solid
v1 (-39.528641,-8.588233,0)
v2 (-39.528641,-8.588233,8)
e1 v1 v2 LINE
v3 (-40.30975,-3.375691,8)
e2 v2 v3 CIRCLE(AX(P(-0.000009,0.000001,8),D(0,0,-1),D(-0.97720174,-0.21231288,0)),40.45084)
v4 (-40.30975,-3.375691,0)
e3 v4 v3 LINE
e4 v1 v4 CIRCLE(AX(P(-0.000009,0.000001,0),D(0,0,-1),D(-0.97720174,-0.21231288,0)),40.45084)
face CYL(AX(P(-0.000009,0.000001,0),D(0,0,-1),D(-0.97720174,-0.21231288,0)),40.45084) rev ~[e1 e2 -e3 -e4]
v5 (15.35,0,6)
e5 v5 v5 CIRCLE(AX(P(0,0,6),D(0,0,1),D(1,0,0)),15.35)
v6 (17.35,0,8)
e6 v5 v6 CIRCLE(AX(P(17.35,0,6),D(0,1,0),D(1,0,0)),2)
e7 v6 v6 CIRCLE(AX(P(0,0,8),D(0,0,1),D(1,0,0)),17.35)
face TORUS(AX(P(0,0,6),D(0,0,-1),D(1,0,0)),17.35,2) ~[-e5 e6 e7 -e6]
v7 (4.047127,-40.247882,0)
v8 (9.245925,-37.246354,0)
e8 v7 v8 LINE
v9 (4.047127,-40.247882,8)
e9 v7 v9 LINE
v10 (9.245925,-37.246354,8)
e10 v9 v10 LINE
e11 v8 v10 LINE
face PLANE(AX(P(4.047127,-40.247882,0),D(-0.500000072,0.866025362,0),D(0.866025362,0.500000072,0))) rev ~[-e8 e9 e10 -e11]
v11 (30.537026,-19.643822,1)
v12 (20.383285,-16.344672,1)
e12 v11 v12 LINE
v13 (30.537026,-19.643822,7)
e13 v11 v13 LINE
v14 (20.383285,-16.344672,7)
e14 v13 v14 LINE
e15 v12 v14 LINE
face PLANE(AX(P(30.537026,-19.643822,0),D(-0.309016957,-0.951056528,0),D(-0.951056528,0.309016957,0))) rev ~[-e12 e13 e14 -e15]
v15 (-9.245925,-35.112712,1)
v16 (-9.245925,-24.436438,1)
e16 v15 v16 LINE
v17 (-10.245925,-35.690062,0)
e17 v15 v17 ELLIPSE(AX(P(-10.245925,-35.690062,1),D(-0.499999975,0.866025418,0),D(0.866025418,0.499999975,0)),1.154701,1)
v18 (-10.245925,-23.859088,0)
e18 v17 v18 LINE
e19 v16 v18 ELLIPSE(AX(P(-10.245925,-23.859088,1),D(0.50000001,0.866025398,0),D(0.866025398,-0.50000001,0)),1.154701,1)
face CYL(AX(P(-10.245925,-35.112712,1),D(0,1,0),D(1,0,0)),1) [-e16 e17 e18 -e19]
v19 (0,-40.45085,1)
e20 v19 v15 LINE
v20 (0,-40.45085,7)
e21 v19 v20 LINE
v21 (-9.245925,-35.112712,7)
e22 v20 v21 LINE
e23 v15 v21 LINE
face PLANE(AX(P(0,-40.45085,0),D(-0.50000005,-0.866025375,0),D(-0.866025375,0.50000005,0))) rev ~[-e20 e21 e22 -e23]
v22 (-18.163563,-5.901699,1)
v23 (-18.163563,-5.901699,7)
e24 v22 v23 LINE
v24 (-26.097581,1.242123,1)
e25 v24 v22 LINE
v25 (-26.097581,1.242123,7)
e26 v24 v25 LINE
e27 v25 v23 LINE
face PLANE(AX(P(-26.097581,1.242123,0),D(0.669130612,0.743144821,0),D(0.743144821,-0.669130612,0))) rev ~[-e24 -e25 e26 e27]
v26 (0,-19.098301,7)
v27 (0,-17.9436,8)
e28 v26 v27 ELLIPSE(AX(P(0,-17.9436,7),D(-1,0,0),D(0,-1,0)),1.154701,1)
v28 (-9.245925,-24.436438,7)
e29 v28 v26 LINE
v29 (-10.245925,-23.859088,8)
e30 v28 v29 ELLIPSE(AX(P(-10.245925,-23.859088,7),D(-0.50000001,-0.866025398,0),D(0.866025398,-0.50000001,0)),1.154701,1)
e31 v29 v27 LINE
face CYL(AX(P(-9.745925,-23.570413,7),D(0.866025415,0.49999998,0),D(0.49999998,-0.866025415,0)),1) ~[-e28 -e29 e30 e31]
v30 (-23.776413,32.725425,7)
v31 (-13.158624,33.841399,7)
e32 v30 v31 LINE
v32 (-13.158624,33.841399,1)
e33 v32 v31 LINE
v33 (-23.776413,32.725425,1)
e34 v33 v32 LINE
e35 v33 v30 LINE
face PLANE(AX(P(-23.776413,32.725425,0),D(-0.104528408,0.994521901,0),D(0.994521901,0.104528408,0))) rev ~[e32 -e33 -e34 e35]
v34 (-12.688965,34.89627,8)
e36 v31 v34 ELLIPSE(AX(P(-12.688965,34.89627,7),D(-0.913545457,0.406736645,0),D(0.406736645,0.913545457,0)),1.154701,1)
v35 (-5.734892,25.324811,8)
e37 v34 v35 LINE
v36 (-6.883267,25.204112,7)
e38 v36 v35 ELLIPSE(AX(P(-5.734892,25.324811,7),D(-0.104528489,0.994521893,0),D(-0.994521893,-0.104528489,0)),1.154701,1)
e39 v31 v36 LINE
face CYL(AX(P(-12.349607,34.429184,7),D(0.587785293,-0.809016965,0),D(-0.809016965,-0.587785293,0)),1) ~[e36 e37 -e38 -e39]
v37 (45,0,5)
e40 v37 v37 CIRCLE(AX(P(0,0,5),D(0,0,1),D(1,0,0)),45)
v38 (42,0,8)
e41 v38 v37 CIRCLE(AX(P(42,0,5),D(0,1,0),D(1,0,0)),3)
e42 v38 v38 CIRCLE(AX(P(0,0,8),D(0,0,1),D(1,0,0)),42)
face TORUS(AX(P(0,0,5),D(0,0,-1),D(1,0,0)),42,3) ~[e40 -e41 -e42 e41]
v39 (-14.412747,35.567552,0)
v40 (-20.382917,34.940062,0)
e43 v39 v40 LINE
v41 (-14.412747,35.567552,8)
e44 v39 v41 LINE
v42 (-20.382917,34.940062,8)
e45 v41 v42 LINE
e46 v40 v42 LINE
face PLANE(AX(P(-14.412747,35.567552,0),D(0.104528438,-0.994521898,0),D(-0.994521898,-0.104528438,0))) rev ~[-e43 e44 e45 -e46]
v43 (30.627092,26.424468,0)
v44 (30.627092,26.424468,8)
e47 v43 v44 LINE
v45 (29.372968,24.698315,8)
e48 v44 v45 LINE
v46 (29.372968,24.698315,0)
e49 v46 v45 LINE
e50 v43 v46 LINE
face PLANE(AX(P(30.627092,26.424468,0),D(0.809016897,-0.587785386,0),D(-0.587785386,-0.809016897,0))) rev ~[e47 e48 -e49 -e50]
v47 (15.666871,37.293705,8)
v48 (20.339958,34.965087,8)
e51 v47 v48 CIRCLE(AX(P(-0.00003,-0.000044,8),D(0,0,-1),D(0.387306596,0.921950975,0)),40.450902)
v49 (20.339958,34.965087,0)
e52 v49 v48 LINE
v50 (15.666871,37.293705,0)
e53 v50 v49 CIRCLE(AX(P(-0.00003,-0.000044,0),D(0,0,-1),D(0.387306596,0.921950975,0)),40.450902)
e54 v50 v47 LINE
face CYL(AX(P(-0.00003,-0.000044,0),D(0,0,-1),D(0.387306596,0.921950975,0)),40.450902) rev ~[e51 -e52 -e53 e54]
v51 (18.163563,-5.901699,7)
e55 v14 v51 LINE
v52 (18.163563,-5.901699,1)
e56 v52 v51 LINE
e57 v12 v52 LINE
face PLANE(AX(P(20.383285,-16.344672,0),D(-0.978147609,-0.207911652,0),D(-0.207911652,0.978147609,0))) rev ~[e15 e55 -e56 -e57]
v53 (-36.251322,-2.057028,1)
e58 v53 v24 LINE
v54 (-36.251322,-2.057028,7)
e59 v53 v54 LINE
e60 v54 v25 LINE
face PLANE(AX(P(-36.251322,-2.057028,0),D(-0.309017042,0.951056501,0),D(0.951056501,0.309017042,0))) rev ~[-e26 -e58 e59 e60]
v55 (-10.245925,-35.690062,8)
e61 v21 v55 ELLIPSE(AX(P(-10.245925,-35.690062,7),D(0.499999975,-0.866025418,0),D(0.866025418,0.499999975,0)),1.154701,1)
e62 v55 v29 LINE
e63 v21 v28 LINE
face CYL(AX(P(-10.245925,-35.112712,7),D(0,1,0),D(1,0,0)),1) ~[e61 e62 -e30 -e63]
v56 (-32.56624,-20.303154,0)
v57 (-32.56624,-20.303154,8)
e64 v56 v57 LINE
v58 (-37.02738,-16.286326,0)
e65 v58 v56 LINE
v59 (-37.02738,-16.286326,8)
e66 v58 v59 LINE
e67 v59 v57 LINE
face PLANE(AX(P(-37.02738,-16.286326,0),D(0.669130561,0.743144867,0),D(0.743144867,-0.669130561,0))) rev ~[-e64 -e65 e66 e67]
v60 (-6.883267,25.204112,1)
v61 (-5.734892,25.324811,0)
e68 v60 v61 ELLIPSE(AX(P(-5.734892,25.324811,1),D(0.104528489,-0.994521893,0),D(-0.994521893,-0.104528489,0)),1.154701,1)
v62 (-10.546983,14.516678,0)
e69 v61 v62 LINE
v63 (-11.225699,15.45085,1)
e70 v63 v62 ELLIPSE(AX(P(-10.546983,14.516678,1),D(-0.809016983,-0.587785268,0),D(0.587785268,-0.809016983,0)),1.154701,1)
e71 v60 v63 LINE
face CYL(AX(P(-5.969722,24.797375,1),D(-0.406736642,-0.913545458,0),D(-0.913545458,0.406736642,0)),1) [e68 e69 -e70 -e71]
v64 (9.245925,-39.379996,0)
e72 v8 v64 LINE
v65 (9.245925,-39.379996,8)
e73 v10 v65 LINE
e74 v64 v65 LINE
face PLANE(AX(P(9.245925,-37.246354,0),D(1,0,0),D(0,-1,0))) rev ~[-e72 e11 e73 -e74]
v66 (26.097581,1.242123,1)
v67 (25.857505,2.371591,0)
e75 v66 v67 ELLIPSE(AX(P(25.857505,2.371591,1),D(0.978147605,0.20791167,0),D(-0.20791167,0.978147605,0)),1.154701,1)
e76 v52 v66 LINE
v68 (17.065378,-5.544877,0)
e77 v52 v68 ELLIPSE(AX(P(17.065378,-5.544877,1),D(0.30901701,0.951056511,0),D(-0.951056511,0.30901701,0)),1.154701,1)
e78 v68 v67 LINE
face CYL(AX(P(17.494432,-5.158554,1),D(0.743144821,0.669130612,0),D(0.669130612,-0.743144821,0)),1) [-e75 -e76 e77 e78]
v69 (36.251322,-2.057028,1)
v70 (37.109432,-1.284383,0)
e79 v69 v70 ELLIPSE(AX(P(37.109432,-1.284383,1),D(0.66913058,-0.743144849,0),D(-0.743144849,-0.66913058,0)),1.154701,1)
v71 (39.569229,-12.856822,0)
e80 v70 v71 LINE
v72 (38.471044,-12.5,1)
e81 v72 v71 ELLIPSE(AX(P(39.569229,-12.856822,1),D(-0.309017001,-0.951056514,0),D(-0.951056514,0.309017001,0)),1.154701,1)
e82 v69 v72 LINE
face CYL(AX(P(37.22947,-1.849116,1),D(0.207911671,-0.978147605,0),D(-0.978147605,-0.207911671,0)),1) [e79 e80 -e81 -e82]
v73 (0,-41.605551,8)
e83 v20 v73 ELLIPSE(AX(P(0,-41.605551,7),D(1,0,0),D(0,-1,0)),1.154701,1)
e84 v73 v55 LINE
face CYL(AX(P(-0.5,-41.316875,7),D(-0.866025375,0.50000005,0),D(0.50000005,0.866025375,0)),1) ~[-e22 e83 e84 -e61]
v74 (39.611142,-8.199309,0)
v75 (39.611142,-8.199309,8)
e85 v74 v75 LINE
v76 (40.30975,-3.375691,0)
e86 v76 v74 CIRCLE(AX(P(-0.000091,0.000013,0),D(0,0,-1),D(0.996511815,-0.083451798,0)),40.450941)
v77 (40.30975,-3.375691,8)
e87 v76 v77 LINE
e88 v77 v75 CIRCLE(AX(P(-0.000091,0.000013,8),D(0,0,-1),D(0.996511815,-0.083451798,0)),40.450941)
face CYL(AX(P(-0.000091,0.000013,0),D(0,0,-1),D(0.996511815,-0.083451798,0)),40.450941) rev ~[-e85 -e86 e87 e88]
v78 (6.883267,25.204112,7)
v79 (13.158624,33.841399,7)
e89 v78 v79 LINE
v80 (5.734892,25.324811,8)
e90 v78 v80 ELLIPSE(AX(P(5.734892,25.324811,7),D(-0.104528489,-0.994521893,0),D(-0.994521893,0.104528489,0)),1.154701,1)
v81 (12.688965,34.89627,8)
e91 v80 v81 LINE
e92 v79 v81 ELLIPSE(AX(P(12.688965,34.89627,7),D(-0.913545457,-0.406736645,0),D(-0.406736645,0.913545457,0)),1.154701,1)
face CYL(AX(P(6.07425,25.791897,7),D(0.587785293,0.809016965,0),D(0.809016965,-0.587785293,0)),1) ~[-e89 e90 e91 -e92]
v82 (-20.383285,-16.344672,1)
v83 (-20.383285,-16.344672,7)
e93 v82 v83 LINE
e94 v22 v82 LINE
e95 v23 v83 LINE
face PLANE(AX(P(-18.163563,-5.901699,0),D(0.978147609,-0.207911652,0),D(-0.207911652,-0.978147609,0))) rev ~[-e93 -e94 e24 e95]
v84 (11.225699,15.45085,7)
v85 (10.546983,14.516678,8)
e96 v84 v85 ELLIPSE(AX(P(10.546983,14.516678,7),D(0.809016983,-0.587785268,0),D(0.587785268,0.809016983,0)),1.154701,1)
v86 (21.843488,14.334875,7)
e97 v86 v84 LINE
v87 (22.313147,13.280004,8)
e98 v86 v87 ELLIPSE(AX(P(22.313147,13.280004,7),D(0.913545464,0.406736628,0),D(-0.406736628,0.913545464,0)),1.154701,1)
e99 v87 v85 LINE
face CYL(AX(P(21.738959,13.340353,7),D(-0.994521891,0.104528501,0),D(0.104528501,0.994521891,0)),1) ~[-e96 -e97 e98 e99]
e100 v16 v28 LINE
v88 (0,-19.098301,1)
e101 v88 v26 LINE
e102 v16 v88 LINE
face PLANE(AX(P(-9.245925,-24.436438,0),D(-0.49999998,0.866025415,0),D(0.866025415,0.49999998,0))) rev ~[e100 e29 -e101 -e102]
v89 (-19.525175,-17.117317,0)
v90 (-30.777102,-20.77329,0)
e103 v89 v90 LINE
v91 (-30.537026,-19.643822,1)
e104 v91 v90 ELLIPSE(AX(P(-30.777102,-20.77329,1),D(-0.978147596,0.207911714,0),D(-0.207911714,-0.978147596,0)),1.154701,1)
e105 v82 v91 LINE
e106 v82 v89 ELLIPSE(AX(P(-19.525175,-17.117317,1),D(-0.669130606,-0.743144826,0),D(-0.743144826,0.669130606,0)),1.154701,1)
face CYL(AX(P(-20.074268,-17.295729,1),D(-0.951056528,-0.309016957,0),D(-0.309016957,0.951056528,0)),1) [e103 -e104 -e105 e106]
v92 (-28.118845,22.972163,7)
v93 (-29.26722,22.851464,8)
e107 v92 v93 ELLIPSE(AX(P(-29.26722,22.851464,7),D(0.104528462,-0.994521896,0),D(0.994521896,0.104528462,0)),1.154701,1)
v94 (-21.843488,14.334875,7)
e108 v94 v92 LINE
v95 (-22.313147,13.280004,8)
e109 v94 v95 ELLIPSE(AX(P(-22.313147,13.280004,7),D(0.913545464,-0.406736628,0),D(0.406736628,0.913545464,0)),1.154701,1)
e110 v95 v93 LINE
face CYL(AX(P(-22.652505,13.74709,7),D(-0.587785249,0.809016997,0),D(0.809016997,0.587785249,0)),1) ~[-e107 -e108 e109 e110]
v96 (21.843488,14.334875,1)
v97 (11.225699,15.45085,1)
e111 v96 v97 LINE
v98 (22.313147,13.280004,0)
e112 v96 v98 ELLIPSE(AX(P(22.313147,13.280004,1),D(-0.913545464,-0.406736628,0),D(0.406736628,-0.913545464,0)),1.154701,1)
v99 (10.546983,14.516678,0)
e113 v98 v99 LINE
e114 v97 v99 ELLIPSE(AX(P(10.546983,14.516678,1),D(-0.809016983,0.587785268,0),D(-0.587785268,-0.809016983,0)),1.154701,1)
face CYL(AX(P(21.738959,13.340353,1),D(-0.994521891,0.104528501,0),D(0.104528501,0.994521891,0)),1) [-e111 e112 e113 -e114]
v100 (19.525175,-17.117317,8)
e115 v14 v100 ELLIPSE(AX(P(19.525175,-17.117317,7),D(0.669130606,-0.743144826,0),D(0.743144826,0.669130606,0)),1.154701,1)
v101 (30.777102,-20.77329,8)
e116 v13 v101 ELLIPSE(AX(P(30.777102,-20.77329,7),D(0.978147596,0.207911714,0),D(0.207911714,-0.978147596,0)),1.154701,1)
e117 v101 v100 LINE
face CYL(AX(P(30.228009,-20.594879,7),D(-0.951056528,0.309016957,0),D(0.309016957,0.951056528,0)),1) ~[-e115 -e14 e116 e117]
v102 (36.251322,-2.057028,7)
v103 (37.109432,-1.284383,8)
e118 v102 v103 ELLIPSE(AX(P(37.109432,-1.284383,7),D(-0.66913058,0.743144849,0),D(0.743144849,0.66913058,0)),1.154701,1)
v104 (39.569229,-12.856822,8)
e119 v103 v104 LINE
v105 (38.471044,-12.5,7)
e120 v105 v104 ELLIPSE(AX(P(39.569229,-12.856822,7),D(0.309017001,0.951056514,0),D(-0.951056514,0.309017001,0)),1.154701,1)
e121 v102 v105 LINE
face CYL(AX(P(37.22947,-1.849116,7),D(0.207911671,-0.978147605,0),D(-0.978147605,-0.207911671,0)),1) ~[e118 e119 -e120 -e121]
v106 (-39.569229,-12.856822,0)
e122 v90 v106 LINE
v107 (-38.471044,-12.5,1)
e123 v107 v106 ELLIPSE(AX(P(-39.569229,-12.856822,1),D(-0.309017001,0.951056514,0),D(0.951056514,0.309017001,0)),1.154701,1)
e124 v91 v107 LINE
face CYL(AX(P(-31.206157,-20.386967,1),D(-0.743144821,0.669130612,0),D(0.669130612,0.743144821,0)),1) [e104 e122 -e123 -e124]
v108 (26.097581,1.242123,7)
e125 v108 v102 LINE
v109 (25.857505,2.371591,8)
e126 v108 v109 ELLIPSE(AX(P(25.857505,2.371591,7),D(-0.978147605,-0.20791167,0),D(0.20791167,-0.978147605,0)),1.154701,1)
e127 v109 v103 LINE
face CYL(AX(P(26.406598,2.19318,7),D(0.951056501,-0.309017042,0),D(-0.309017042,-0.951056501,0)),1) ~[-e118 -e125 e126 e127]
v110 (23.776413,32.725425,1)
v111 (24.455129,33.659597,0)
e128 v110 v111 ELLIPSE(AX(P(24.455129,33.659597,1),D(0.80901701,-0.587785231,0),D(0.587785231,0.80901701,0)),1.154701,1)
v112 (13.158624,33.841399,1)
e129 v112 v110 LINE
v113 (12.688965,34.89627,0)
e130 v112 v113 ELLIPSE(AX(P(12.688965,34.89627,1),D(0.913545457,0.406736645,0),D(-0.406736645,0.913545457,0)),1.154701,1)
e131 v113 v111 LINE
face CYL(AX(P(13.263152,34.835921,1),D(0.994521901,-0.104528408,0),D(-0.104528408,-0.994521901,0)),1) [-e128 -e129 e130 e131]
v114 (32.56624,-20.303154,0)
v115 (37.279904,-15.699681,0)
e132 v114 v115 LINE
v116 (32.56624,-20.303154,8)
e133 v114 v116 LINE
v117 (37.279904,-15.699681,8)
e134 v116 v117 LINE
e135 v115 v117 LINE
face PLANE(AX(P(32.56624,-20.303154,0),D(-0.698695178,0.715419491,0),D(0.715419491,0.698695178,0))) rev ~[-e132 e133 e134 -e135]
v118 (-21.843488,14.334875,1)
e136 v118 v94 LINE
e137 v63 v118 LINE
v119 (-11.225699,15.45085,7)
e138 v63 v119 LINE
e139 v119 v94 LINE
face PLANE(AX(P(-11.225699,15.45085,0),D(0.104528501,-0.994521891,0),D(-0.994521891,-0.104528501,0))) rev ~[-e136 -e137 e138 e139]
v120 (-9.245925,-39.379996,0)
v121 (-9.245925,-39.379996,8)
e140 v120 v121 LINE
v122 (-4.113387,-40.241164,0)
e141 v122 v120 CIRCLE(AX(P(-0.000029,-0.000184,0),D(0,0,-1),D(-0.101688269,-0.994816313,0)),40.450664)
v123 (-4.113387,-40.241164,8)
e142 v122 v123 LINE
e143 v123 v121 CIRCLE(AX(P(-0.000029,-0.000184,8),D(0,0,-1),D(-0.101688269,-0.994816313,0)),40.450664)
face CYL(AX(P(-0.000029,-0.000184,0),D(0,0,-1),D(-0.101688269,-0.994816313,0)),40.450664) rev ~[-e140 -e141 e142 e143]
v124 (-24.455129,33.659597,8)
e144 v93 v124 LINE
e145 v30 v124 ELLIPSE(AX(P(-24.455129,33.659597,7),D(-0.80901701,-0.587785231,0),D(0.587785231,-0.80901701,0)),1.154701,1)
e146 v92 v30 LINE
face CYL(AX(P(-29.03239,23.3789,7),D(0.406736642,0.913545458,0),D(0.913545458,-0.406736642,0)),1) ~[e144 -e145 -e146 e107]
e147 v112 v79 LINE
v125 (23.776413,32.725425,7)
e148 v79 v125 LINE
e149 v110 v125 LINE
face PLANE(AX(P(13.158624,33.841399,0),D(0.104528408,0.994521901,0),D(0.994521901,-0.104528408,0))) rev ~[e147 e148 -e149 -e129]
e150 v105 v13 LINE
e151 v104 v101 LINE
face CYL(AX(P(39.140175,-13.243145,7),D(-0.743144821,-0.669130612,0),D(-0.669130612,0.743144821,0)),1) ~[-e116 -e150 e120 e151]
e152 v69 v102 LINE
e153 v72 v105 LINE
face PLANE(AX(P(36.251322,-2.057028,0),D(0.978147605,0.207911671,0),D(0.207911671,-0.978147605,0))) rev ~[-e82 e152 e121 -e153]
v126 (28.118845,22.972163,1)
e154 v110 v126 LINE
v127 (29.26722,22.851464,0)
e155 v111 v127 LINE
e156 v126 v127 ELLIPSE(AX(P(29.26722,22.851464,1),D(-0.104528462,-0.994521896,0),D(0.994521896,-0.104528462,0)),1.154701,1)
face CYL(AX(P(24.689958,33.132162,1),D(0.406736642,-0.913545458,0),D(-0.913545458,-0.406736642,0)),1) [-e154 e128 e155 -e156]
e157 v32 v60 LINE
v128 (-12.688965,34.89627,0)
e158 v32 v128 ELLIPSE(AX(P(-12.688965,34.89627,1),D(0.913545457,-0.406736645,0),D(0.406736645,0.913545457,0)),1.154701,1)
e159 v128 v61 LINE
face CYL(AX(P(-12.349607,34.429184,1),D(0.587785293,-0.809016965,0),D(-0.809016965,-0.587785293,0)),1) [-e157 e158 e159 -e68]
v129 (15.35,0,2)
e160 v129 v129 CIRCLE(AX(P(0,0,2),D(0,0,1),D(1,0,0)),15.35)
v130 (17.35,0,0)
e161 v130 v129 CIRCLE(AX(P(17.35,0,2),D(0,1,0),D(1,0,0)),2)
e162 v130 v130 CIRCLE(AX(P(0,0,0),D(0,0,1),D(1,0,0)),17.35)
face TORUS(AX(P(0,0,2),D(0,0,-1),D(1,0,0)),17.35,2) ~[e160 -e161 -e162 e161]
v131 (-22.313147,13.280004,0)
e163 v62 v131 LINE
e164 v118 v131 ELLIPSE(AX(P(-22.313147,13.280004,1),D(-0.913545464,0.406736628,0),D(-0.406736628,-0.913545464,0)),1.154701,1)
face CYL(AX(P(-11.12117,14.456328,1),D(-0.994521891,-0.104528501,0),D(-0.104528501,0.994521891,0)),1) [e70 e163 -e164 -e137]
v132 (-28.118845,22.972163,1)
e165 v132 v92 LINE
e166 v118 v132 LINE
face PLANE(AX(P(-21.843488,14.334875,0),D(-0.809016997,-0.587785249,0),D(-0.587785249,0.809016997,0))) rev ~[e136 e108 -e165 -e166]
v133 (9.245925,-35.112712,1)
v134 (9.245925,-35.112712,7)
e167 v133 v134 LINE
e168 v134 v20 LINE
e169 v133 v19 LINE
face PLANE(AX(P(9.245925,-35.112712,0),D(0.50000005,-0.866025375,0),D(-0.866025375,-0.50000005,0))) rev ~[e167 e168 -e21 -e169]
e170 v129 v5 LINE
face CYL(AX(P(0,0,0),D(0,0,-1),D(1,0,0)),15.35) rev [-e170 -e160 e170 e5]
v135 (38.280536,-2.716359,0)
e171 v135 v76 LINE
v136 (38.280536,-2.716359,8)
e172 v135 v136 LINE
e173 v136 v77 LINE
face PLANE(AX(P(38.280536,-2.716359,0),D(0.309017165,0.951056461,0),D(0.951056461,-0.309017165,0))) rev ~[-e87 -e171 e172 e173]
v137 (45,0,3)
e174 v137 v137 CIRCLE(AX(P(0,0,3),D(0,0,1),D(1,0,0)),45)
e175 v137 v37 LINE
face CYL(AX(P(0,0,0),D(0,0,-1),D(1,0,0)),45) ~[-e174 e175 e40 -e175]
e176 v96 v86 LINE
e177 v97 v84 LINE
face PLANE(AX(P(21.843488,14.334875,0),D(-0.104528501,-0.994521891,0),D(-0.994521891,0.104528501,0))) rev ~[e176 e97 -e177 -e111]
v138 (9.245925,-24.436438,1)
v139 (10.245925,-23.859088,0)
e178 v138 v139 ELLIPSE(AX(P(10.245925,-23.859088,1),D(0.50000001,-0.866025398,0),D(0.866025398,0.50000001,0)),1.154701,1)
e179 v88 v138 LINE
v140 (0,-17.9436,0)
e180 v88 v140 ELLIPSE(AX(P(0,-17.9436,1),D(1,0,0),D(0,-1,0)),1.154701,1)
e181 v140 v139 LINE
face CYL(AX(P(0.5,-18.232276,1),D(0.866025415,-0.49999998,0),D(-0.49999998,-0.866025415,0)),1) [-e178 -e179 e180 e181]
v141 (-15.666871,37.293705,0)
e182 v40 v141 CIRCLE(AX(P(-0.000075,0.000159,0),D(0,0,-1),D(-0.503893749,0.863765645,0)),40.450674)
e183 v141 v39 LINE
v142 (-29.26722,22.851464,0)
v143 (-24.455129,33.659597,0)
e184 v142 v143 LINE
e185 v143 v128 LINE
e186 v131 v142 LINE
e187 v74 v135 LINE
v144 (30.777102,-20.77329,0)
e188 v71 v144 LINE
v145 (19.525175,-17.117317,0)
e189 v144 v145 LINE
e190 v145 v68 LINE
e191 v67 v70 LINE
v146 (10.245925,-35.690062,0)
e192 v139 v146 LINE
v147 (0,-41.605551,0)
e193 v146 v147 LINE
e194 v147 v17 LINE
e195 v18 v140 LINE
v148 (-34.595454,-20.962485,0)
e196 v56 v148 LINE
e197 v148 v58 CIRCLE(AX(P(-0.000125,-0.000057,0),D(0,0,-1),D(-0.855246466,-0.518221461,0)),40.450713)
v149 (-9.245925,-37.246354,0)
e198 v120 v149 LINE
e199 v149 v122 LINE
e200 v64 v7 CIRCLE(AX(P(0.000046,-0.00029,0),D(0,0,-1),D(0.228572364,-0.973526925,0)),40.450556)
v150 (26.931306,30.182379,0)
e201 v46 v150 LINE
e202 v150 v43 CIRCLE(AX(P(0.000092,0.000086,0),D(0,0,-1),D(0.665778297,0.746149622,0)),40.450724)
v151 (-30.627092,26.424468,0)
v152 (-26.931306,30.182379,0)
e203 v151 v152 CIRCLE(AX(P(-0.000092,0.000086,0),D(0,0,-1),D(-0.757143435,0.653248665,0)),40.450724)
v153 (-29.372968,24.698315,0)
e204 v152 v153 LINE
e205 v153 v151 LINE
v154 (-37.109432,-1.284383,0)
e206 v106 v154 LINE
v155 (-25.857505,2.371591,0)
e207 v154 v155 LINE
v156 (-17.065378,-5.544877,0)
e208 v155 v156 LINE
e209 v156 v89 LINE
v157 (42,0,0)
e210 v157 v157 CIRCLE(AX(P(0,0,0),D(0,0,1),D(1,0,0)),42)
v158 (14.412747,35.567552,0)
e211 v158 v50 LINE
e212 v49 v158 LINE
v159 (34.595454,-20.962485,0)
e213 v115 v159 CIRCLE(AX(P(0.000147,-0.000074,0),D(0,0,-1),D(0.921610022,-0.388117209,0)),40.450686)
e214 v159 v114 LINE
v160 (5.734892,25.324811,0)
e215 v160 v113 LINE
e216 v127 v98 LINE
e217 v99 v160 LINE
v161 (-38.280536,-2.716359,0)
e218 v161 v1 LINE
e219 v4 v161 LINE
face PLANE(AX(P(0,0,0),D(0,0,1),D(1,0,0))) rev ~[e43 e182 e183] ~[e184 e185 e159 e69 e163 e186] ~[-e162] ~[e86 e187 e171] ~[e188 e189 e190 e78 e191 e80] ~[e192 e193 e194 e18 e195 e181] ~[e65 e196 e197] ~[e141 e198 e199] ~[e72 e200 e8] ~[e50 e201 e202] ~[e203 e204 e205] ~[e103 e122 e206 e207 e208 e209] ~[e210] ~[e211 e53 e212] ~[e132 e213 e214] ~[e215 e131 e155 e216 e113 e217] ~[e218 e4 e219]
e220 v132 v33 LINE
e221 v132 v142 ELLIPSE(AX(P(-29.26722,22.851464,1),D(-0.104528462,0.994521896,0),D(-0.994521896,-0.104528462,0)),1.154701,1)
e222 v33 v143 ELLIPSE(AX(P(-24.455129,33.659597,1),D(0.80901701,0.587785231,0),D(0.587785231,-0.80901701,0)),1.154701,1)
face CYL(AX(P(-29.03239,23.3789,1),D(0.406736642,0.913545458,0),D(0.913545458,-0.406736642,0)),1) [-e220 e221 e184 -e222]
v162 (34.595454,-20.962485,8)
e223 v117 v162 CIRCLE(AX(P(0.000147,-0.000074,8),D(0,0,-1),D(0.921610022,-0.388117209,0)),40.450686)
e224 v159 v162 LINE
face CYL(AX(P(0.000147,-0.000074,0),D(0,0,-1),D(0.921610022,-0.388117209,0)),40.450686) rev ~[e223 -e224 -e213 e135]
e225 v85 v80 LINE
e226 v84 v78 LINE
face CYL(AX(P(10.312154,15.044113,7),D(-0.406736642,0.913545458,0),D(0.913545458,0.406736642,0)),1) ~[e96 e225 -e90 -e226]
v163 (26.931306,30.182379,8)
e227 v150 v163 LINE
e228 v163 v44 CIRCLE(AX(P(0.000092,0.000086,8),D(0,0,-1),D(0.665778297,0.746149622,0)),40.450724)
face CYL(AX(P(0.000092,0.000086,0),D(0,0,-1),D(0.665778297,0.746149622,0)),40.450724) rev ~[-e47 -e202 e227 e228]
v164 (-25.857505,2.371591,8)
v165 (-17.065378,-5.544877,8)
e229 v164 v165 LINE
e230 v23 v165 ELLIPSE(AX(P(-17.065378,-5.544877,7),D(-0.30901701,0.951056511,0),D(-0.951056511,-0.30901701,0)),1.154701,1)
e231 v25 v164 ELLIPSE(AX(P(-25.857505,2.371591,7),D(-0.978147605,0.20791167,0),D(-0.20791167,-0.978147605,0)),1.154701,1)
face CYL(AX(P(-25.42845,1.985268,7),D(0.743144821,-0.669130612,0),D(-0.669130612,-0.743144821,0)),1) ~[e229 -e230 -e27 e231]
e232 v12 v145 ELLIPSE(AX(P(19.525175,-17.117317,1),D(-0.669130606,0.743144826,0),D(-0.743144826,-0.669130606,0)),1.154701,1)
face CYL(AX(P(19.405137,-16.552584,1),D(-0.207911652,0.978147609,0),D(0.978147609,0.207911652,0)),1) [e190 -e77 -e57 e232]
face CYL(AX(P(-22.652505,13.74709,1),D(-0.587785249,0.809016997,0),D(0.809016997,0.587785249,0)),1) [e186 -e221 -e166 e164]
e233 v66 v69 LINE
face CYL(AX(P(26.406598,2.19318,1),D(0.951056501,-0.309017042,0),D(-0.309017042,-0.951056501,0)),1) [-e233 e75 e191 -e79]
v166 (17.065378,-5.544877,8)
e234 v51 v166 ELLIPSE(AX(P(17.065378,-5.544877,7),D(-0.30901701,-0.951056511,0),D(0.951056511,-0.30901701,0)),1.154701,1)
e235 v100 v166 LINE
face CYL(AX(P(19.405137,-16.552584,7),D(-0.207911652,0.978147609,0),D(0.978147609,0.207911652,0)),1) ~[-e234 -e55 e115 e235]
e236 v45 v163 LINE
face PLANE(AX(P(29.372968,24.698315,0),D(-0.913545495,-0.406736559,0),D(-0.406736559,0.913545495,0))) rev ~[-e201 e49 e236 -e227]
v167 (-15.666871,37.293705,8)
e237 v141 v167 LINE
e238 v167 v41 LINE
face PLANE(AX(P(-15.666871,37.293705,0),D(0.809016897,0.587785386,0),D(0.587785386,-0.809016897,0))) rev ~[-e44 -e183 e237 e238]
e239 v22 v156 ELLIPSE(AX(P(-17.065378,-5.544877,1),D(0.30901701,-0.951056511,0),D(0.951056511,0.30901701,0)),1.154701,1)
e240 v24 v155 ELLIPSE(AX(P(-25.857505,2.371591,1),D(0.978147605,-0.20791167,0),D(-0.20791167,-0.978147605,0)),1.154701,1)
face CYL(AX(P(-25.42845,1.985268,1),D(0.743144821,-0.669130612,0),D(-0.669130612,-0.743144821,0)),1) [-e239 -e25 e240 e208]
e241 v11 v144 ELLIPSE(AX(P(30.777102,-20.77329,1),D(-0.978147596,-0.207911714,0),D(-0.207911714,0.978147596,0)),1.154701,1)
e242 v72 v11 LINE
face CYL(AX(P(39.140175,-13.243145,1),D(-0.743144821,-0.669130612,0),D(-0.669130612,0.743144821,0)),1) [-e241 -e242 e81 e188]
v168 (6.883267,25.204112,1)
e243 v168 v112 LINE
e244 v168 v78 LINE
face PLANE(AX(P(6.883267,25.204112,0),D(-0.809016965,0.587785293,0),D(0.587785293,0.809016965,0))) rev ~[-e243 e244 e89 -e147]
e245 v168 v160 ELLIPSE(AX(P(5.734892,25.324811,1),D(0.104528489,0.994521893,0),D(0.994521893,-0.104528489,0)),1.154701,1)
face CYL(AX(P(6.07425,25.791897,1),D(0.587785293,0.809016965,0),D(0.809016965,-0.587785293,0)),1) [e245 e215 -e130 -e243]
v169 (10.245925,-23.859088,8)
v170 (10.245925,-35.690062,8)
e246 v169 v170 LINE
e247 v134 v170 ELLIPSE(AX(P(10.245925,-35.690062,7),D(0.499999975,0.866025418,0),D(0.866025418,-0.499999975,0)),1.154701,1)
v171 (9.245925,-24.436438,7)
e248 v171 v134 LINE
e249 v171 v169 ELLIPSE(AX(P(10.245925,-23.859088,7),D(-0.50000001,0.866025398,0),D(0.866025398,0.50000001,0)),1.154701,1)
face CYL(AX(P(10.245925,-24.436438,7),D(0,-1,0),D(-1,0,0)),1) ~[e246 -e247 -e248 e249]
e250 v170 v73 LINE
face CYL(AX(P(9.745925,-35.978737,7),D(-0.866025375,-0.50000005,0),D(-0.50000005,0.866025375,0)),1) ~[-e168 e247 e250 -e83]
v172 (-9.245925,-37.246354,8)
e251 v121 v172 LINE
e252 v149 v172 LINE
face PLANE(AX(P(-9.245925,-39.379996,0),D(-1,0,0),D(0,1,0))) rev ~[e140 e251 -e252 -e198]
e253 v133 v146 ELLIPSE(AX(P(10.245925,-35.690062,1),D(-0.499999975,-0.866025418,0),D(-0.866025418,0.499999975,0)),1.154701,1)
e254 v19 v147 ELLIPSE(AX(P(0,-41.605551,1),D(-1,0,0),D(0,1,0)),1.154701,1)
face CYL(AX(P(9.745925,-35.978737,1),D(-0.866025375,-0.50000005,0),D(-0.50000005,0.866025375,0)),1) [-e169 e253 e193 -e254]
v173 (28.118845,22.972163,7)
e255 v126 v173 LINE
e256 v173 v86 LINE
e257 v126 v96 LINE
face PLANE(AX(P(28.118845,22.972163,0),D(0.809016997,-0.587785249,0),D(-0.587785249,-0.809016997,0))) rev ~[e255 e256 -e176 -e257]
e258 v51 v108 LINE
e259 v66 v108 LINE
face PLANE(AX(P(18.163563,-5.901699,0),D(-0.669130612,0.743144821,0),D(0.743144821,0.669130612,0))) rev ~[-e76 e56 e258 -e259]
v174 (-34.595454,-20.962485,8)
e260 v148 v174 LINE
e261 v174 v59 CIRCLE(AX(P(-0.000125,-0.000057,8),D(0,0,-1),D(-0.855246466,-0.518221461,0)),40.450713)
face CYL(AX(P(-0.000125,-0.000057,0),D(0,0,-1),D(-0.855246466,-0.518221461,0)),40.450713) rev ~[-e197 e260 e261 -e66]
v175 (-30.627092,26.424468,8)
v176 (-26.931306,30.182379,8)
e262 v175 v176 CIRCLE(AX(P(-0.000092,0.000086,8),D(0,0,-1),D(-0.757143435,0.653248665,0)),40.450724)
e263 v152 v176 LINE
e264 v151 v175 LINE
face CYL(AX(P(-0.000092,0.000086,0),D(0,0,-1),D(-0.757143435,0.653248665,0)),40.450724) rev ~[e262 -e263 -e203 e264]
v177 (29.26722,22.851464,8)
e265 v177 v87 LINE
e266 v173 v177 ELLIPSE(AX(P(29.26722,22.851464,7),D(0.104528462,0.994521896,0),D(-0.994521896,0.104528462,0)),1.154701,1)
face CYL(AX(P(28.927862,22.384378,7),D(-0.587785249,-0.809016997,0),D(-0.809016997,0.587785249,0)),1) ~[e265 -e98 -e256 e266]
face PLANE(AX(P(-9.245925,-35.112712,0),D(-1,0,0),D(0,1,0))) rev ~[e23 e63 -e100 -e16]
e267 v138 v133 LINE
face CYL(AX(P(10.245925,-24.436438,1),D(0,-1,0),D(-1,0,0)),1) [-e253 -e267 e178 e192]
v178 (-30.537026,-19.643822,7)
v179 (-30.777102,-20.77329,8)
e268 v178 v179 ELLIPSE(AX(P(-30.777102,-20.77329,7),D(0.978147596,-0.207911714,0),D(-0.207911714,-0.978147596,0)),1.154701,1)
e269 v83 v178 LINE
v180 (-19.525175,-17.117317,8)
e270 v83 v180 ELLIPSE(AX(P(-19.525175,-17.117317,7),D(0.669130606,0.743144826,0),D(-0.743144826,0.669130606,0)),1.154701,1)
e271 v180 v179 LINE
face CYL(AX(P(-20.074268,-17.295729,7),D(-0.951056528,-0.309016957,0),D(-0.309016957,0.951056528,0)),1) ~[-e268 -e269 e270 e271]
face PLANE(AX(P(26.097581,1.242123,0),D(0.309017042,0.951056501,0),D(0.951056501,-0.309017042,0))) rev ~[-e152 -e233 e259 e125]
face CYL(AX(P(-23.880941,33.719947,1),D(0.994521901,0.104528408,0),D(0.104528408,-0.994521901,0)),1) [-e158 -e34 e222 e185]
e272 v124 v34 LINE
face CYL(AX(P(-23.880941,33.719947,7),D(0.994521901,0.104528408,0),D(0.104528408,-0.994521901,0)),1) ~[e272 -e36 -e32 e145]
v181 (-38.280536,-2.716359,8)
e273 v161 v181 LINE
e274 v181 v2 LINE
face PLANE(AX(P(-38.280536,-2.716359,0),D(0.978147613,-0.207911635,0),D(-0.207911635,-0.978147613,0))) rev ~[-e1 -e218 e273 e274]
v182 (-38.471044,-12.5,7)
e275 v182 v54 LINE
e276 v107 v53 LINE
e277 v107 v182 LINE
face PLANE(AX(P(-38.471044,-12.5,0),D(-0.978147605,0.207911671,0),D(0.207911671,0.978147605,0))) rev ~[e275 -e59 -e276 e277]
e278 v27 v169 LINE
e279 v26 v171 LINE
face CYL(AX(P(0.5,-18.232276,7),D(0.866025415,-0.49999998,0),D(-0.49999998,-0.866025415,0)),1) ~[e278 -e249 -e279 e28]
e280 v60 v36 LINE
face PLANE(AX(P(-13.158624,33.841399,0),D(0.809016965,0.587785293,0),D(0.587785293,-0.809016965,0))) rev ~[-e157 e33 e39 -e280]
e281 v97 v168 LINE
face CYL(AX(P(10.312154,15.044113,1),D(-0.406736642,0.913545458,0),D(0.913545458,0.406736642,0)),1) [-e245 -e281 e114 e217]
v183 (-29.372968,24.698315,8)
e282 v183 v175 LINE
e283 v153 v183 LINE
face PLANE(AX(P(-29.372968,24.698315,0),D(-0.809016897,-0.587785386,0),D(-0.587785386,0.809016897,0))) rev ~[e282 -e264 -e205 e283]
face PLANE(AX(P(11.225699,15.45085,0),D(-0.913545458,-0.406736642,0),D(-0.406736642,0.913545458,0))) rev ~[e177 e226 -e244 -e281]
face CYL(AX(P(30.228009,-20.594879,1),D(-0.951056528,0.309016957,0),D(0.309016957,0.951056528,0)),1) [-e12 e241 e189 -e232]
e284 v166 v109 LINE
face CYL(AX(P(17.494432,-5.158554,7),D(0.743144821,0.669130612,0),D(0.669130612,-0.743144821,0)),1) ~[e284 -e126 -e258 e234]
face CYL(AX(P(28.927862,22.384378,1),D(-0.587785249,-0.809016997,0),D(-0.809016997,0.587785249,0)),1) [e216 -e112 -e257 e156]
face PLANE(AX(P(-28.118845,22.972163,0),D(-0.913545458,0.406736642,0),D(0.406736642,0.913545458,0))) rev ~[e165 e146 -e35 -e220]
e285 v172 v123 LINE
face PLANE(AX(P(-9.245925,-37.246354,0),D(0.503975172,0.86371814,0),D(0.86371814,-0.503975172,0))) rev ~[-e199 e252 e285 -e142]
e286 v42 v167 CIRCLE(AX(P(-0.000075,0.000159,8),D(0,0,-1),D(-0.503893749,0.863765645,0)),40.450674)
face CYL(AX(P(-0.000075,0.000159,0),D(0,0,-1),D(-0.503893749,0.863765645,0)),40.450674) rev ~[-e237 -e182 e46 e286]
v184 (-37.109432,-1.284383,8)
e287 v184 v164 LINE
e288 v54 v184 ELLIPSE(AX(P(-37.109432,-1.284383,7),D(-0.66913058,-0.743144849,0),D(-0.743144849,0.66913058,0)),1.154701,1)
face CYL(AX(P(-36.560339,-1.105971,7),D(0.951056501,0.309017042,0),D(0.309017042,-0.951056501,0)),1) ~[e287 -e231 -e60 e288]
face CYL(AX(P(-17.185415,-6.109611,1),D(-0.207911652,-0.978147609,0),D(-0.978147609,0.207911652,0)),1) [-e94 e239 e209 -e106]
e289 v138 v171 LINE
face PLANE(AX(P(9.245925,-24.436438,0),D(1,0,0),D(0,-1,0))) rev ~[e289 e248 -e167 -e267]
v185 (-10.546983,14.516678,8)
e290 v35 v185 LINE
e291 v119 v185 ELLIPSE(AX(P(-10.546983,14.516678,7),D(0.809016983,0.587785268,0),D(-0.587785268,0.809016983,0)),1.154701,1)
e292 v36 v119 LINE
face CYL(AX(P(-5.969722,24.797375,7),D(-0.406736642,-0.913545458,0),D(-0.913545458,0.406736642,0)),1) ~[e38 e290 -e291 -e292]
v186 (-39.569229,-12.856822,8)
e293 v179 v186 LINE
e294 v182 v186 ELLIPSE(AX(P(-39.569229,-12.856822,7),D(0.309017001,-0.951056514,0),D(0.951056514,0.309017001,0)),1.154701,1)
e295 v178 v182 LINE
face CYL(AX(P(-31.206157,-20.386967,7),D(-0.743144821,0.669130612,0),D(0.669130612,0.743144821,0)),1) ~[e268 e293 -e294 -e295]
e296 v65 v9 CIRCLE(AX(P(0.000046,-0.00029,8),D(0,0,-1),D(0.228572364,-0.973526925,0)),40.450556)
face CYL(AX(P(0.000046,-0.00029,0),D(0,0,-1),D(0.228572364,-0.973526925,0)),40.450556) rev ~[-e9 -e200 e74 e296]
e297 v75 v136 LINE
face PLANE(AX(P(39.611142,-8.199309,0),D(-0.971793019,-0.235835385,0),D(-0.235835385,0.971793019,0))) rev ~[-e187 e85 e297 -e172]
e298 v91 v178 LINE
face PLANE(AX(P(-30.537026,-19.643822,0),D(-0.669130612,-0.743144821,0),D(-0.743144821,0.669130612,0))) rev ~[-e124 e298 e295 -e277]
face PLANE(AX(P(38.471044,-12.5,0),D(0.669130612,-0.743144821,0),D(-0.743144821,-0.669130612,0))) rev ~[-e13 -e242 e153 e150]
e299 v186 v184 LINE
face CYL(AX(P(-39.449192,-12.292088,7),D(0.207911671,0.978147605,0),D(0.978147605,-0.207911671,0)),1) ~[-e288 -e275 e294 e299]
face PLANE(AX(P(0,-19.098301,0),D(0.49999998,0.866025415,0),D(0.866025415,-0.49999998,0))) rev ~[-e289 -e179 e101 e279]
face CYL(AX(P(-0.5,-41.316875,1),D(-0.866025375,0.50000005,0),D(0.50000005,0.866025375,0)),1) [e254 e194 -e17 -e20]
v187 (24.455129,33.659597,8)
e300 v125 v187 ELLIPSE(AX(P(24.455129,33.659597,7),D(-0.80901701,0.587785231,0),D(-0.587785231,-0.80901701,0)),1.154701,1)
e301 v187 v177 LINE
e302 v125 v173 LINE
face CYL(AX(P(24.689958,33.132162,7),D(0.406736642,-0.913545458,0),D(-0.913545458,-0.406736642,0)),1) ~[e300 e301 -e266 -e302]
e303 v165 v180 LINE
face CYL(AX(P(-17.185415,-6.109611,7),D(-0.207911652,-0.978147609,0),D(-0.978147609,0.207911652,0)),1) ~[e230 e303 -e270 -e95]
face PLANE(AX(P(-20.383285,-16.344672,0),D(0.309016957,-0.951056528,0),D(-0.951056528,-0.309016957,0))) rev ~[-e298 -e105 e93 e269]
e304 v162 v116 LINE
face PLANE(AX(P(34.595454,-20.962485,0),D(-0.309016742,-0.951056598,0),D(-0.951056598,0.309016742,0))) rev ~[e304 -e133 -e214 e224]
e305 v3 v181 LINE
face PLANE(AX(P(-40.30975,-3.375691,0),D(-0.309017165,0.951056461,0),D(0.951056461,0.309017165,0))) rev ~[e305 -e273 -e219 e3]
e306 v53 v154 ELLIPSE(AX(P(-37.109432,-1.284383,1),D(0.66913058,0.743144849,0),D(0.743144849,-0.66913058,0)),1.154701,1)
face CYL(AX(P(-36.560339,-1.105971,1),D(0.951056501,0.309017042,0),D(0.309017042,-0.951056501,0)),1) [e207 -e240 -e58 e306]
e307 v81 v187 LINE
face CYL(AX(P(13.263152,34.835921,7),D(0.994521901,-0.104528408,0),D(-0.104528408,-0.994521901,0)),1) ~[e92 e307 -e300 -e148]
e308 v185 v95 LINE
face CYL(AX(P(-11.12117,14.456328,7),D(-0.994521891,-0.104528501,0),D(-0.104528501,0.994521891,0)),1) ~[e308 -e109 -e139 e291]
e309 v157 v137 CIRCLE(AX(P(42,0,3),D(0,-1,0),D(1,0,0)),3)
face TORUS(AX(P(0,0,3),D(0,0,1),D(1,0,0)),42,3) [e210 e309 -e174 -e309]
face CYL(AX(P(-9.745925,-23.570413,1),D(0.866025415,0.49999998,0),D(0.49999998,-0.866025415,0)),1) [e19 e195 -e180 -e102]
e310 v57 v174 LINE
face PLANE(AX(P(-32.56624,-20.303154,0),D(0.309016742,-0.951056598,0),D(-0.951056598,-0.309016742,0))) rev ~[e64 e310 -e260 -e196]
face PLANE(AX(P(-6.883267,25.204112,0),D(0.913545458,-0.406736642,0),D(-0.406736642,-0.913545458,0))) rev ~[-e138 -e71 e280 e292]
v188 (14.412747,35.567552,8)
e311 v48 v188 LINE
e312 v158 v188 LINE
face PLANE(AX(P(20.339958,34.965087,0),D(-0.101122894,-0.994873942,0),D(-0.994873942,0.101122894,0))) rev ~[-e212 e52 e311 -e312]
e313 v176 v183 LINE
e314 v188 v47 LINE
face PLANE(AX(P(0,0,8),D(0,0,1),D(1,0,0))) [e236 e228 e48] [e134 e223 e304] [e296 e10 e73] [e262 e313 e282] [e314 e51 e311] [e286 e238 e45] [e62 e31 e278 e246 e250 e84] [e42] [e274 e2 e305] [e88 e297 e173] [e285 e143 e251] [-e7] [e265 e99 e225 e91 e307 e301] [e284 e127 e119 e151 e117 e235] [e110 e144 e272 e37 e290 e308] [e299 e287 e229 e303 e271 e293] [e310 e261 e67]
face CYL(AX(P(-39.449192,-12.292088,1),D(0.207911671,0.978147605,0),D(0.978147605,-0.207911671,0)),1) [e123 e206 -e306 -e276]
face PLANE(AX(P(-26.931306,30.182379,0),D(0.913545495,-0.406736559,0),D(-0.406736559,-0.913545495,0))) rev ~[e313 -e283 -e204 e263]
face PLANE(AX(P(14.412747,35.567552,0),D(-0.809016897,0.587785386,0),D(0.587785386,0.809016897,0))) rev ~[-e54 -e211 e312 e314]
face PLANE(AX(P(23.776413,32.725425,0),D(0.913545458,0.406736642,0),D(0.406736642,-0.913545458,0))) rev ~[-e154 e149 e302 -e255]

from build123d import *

# Parameters (mm, degrees)
F0_R     = 45
F0_R_2   = 15.35
F1_DEPTH = 8
F2_R     = 1
F3_R     = 3
F4_R     = 2


with BuildPart() as f1:
    # F0 (on Top) → F1 (new body)
    with BuildSketch(Plane.XY):
        Circle(F0_R)
        with BuildLine():
            Line((-9.245925, -39.379996), (-9.245925, -37.246354))
            Line((-9.245925, -37.246354), (-4.113387, -40.241164))
            ThreePointArc((-4.113387, -40.241164), (-6.69352, -39.893208), (-9.245925, -39.379996))
        make_face(mode=Mode.SUBTRACT)
        Polygon((-9.245925, -24.436438), (0, -19.098301), (9.245925, -24.436438), (9.245925, -35.112712), (0, -40.45085), (-9.245925, -35.112712), align=None, mode=Mode.SUBTRACT)
        with BuildLine():
            Line((-37.02738, -16.286326), (-32.56624, -20.303154))
            Line((-32.56624, -20.303154), (-34.595454, -20.962485))
            ThreePointArc((-34.595454, -20.962485), (-35.887661, -18.664058), (-37.02738, -16.286326))
        make_face(mode=Mode.SUBTRACT)
        with BuildLine():
            Line((-40.30975, -3.375691), (-38.280536, -2.716359))
            Line((-38.280536, -2.716359), (-39.528641, -8.588233))
            ThreePointArc((-39.528641, -8.588233), (-40.004185, -5.994698), (-40.30975, -3.375691))
        make_face(mode=Mode.SUBTRACT)
        Polygon((-38.471044, -12.5), (-36.251322, -2.057028), (-26.097581, 1.242123), (-18.163563, -5.901699), (-20.383285, -16.344672), (-30.537026, -19.643822), align=None, mode=Mode.SUBTRACT)
        with BuildLine():
            Line((4.047127, -40.247882), (9.245925, -37.246354))
            Line((9.245925, -37.246354), (9.245925, -39.379996))
            ThreePointArc((9.245925, -39.379996), (6.660677, -39.898705), (4.047127, -40.247882))
        make_face(mode=Mode.SUBTRACT)
        with BuildLine():
            Line((34.595454, -20.962485), (32.56624, -20.303154))
            Line((32.56624, -20.303154), (37.279904, -15.699681))
            ThreePointArc((37.279904, -15.699681), (36.033888, -18.380157), (34.595454, -20.962485))
        make_face(mode=Mode.SUBTRACT)
        Polygon((20.383285, -16.344672), (18.163563, -5.901699), (26.097581, 1.242123), (36.251322, -2.057028), (38.471044, -12.5), (30.537026, -19.643822), align=None, mode=Mode.SUBTRACT)
        with BuildLine():
            Line((39.611142, -8.199309), (38.280536, -2.716359))
            Line((38.280536, -2.716359), (40.30975, -3.375691))
            ThreePointArc((40.30975, -3.375691), (40.033162, -5.798031), (39.611142, -8.199309))
        make_face(mode=Mode.SUBTRACT)
        with BuildLine():
            Line((-26.931306, 30.182379), (-29.372968, 24.698315))
            Line((-29.372968, 24.698315), (-30.627092, 26.424468))
            ThreePointArc((-30.627092, 26.424468), (-28.840471, 28.363683), (-26.931306, 30.182379))
        make_face(mode=Mode.SUBTRACT)
        Polygon((-23.776413, 32.725425), (-13.158624, 33.841399), (-6.883267, 25.204112), (-11.225699, 15.45085), (-21.843488, 14.334875), (-28.118845, 22.972163), align=None, mode=Mode.SUBTRACT)
        with BuildLine():
            ThreePointArc((-20.382917, 34.940062), (-18.06327, 36.193778), (-15.666871, 37.293705))
            Line((-15.666871, 37.293705), (-14.412747, 35.567552))
            Line((-14.412747, 35.567552), (-20.382917, 34.940062))
        make_face(mode=Mode.SUBTRACT)
        Circle(F0_R_2, mode=Mode.SUBTRACT)
        Polygon((21.843488, 14.334875), (11.225699, 15.45085), (6.883267, 25.204112), (13.158624, 33.841399), (23.776413, 32.725425), (28.118845, 22.972163), align=None, mode=Mode.SUBTRACT)
        with BuildLine():
            Line((20.339958, 34.965087), (14.412747, 35.567552))
            Line((14.412747, 35.567552), (15.666871, 37.293705))
            ThreePointArc((15.666871, 37.293705), (18.041024, 36.204871), (20.339958, 34.965087))
        make_face(mode=Mode.SUBTRACT)
        with BuildLine():
            Line((30.627092, 26.424468), (29.372968, 24.698315))
            Line((29.372968, 24.698315), (26.931306, 30.182379))
            ThreePointArc((26.931306, 30.182379), (28.840471, 28.363683), (30.627092, 26.424468))
        make_face(mode=Mode.SUBTRACT)
    extrude(amount=F1_DEPTH)

    # F2
    f2_edges = [f1.edges().sort_by_distance(p)[0] for p in [
        (9.054483, 20.327481, 8),
        (10.020946, 29.522756, 8),
        (16.534594, 14.892862, 8),
        (24.981167, 18.653519, 8),
        (25.947629, 27.848794, 8),
        (18.467518, 33.283412, 8),
        (-18.467518, 33.283412, 8),
        (-25.947629, 27.848794, 8),
        (-24.981167, 18.653519, 8),
        (-16.534594, 14.892862, 8),
        (-9.054483, 20.327481, 8),
        (-10.020946, 29.522756, 8),
        (31.174452, -0.407452, 8),
        (22.130572, -2.329788, 8),
        (34.504035, -16.071911, 8),
        (37.361183, -7.278514, 8),
        (19.273424, -11.123186, 8),
        (25.460156, -17.994247, 8),
        (4.622963, -21.767369, 8),
        (-4.622963, -21.767369, 8),
        (-9.245925, -29.774575, 8),
        (9.245925, -29.774575, 8),
        (4.622963, -37.781781, 8),
        (-4.622963, -37.781781, 8),
        (-25.460156, -17.994247, 8),
        (-19.273424, -11.123186, 8),
        (-22.130572, -2.329788, 8),
        (-37.361183, -7.278514, 8),
        (-34.504035, -16.071911, 8),
        (-31.174452, -0.407452, 8),
        (10.020946, 29.522756, 0),
        (18.467518, 33.283412, 0),
        (25.947629, 27.848794, 0),
        (24.981167, 18.653519, 0),
        (16.534594, 14.892862, 0),
        (9.054483, 20.327481, 0),
        (-9.054483, 20.327481, 0),
        (-16.534594, 14.892862, 0),
        (-24.981167, 18.653519, 0),
        (-18.467518, 33.283412, 0),
        (-25.947629, 27.848794, 0),
        (-10.020946, 29.522756, 0),
        (-22.130572, -2.329788, 0),
        (-31.174452, -0.407452, 0),
        (-37.361183, -7.278514, 0),
        (-25.460156, -17.994247, 0),
        (-19.273424, -11.123186, 0),
        (-34.504035, -16.071911, 0),
        (4.622963, -21.767369, 0),
        (-4.622963, -21.767369, 0),
        (-9.245925, -29.774575, 0),
        (-4.622963, -37.781781, 0),
        (4.622963, -37.781781, 0),
        (9.245925, -29.774575, 0),
        (25.460156, -17.994247, 0),
        (34.504035, -16.071911, 0),
        (37.361183, -7.278514, 0),
        (19.273424, -11.123186, 0),
        (22.130572, -2.329788, 0),
        (31.174452, -0.407452, 0),
    ]]
    fillet(f2_edges, radius=F2_R)

    # F3
    f3_edges = [f1.edges().sort_by_distance(p)[0] for p in [
        (-45, 0, 8),
        (-45, 0, 0),
    ]]
    fillet(f3_edges, radius=F3_R)

    # F4
    f4_edges = [f1.edges().sort_by_distance(p)[0] for p in [
        (-15.35, 0, 0),
        (-15.35, 0, 8),
    ]]
    fillet(f4_edges, radius=F4_R)


solid = f1.part
